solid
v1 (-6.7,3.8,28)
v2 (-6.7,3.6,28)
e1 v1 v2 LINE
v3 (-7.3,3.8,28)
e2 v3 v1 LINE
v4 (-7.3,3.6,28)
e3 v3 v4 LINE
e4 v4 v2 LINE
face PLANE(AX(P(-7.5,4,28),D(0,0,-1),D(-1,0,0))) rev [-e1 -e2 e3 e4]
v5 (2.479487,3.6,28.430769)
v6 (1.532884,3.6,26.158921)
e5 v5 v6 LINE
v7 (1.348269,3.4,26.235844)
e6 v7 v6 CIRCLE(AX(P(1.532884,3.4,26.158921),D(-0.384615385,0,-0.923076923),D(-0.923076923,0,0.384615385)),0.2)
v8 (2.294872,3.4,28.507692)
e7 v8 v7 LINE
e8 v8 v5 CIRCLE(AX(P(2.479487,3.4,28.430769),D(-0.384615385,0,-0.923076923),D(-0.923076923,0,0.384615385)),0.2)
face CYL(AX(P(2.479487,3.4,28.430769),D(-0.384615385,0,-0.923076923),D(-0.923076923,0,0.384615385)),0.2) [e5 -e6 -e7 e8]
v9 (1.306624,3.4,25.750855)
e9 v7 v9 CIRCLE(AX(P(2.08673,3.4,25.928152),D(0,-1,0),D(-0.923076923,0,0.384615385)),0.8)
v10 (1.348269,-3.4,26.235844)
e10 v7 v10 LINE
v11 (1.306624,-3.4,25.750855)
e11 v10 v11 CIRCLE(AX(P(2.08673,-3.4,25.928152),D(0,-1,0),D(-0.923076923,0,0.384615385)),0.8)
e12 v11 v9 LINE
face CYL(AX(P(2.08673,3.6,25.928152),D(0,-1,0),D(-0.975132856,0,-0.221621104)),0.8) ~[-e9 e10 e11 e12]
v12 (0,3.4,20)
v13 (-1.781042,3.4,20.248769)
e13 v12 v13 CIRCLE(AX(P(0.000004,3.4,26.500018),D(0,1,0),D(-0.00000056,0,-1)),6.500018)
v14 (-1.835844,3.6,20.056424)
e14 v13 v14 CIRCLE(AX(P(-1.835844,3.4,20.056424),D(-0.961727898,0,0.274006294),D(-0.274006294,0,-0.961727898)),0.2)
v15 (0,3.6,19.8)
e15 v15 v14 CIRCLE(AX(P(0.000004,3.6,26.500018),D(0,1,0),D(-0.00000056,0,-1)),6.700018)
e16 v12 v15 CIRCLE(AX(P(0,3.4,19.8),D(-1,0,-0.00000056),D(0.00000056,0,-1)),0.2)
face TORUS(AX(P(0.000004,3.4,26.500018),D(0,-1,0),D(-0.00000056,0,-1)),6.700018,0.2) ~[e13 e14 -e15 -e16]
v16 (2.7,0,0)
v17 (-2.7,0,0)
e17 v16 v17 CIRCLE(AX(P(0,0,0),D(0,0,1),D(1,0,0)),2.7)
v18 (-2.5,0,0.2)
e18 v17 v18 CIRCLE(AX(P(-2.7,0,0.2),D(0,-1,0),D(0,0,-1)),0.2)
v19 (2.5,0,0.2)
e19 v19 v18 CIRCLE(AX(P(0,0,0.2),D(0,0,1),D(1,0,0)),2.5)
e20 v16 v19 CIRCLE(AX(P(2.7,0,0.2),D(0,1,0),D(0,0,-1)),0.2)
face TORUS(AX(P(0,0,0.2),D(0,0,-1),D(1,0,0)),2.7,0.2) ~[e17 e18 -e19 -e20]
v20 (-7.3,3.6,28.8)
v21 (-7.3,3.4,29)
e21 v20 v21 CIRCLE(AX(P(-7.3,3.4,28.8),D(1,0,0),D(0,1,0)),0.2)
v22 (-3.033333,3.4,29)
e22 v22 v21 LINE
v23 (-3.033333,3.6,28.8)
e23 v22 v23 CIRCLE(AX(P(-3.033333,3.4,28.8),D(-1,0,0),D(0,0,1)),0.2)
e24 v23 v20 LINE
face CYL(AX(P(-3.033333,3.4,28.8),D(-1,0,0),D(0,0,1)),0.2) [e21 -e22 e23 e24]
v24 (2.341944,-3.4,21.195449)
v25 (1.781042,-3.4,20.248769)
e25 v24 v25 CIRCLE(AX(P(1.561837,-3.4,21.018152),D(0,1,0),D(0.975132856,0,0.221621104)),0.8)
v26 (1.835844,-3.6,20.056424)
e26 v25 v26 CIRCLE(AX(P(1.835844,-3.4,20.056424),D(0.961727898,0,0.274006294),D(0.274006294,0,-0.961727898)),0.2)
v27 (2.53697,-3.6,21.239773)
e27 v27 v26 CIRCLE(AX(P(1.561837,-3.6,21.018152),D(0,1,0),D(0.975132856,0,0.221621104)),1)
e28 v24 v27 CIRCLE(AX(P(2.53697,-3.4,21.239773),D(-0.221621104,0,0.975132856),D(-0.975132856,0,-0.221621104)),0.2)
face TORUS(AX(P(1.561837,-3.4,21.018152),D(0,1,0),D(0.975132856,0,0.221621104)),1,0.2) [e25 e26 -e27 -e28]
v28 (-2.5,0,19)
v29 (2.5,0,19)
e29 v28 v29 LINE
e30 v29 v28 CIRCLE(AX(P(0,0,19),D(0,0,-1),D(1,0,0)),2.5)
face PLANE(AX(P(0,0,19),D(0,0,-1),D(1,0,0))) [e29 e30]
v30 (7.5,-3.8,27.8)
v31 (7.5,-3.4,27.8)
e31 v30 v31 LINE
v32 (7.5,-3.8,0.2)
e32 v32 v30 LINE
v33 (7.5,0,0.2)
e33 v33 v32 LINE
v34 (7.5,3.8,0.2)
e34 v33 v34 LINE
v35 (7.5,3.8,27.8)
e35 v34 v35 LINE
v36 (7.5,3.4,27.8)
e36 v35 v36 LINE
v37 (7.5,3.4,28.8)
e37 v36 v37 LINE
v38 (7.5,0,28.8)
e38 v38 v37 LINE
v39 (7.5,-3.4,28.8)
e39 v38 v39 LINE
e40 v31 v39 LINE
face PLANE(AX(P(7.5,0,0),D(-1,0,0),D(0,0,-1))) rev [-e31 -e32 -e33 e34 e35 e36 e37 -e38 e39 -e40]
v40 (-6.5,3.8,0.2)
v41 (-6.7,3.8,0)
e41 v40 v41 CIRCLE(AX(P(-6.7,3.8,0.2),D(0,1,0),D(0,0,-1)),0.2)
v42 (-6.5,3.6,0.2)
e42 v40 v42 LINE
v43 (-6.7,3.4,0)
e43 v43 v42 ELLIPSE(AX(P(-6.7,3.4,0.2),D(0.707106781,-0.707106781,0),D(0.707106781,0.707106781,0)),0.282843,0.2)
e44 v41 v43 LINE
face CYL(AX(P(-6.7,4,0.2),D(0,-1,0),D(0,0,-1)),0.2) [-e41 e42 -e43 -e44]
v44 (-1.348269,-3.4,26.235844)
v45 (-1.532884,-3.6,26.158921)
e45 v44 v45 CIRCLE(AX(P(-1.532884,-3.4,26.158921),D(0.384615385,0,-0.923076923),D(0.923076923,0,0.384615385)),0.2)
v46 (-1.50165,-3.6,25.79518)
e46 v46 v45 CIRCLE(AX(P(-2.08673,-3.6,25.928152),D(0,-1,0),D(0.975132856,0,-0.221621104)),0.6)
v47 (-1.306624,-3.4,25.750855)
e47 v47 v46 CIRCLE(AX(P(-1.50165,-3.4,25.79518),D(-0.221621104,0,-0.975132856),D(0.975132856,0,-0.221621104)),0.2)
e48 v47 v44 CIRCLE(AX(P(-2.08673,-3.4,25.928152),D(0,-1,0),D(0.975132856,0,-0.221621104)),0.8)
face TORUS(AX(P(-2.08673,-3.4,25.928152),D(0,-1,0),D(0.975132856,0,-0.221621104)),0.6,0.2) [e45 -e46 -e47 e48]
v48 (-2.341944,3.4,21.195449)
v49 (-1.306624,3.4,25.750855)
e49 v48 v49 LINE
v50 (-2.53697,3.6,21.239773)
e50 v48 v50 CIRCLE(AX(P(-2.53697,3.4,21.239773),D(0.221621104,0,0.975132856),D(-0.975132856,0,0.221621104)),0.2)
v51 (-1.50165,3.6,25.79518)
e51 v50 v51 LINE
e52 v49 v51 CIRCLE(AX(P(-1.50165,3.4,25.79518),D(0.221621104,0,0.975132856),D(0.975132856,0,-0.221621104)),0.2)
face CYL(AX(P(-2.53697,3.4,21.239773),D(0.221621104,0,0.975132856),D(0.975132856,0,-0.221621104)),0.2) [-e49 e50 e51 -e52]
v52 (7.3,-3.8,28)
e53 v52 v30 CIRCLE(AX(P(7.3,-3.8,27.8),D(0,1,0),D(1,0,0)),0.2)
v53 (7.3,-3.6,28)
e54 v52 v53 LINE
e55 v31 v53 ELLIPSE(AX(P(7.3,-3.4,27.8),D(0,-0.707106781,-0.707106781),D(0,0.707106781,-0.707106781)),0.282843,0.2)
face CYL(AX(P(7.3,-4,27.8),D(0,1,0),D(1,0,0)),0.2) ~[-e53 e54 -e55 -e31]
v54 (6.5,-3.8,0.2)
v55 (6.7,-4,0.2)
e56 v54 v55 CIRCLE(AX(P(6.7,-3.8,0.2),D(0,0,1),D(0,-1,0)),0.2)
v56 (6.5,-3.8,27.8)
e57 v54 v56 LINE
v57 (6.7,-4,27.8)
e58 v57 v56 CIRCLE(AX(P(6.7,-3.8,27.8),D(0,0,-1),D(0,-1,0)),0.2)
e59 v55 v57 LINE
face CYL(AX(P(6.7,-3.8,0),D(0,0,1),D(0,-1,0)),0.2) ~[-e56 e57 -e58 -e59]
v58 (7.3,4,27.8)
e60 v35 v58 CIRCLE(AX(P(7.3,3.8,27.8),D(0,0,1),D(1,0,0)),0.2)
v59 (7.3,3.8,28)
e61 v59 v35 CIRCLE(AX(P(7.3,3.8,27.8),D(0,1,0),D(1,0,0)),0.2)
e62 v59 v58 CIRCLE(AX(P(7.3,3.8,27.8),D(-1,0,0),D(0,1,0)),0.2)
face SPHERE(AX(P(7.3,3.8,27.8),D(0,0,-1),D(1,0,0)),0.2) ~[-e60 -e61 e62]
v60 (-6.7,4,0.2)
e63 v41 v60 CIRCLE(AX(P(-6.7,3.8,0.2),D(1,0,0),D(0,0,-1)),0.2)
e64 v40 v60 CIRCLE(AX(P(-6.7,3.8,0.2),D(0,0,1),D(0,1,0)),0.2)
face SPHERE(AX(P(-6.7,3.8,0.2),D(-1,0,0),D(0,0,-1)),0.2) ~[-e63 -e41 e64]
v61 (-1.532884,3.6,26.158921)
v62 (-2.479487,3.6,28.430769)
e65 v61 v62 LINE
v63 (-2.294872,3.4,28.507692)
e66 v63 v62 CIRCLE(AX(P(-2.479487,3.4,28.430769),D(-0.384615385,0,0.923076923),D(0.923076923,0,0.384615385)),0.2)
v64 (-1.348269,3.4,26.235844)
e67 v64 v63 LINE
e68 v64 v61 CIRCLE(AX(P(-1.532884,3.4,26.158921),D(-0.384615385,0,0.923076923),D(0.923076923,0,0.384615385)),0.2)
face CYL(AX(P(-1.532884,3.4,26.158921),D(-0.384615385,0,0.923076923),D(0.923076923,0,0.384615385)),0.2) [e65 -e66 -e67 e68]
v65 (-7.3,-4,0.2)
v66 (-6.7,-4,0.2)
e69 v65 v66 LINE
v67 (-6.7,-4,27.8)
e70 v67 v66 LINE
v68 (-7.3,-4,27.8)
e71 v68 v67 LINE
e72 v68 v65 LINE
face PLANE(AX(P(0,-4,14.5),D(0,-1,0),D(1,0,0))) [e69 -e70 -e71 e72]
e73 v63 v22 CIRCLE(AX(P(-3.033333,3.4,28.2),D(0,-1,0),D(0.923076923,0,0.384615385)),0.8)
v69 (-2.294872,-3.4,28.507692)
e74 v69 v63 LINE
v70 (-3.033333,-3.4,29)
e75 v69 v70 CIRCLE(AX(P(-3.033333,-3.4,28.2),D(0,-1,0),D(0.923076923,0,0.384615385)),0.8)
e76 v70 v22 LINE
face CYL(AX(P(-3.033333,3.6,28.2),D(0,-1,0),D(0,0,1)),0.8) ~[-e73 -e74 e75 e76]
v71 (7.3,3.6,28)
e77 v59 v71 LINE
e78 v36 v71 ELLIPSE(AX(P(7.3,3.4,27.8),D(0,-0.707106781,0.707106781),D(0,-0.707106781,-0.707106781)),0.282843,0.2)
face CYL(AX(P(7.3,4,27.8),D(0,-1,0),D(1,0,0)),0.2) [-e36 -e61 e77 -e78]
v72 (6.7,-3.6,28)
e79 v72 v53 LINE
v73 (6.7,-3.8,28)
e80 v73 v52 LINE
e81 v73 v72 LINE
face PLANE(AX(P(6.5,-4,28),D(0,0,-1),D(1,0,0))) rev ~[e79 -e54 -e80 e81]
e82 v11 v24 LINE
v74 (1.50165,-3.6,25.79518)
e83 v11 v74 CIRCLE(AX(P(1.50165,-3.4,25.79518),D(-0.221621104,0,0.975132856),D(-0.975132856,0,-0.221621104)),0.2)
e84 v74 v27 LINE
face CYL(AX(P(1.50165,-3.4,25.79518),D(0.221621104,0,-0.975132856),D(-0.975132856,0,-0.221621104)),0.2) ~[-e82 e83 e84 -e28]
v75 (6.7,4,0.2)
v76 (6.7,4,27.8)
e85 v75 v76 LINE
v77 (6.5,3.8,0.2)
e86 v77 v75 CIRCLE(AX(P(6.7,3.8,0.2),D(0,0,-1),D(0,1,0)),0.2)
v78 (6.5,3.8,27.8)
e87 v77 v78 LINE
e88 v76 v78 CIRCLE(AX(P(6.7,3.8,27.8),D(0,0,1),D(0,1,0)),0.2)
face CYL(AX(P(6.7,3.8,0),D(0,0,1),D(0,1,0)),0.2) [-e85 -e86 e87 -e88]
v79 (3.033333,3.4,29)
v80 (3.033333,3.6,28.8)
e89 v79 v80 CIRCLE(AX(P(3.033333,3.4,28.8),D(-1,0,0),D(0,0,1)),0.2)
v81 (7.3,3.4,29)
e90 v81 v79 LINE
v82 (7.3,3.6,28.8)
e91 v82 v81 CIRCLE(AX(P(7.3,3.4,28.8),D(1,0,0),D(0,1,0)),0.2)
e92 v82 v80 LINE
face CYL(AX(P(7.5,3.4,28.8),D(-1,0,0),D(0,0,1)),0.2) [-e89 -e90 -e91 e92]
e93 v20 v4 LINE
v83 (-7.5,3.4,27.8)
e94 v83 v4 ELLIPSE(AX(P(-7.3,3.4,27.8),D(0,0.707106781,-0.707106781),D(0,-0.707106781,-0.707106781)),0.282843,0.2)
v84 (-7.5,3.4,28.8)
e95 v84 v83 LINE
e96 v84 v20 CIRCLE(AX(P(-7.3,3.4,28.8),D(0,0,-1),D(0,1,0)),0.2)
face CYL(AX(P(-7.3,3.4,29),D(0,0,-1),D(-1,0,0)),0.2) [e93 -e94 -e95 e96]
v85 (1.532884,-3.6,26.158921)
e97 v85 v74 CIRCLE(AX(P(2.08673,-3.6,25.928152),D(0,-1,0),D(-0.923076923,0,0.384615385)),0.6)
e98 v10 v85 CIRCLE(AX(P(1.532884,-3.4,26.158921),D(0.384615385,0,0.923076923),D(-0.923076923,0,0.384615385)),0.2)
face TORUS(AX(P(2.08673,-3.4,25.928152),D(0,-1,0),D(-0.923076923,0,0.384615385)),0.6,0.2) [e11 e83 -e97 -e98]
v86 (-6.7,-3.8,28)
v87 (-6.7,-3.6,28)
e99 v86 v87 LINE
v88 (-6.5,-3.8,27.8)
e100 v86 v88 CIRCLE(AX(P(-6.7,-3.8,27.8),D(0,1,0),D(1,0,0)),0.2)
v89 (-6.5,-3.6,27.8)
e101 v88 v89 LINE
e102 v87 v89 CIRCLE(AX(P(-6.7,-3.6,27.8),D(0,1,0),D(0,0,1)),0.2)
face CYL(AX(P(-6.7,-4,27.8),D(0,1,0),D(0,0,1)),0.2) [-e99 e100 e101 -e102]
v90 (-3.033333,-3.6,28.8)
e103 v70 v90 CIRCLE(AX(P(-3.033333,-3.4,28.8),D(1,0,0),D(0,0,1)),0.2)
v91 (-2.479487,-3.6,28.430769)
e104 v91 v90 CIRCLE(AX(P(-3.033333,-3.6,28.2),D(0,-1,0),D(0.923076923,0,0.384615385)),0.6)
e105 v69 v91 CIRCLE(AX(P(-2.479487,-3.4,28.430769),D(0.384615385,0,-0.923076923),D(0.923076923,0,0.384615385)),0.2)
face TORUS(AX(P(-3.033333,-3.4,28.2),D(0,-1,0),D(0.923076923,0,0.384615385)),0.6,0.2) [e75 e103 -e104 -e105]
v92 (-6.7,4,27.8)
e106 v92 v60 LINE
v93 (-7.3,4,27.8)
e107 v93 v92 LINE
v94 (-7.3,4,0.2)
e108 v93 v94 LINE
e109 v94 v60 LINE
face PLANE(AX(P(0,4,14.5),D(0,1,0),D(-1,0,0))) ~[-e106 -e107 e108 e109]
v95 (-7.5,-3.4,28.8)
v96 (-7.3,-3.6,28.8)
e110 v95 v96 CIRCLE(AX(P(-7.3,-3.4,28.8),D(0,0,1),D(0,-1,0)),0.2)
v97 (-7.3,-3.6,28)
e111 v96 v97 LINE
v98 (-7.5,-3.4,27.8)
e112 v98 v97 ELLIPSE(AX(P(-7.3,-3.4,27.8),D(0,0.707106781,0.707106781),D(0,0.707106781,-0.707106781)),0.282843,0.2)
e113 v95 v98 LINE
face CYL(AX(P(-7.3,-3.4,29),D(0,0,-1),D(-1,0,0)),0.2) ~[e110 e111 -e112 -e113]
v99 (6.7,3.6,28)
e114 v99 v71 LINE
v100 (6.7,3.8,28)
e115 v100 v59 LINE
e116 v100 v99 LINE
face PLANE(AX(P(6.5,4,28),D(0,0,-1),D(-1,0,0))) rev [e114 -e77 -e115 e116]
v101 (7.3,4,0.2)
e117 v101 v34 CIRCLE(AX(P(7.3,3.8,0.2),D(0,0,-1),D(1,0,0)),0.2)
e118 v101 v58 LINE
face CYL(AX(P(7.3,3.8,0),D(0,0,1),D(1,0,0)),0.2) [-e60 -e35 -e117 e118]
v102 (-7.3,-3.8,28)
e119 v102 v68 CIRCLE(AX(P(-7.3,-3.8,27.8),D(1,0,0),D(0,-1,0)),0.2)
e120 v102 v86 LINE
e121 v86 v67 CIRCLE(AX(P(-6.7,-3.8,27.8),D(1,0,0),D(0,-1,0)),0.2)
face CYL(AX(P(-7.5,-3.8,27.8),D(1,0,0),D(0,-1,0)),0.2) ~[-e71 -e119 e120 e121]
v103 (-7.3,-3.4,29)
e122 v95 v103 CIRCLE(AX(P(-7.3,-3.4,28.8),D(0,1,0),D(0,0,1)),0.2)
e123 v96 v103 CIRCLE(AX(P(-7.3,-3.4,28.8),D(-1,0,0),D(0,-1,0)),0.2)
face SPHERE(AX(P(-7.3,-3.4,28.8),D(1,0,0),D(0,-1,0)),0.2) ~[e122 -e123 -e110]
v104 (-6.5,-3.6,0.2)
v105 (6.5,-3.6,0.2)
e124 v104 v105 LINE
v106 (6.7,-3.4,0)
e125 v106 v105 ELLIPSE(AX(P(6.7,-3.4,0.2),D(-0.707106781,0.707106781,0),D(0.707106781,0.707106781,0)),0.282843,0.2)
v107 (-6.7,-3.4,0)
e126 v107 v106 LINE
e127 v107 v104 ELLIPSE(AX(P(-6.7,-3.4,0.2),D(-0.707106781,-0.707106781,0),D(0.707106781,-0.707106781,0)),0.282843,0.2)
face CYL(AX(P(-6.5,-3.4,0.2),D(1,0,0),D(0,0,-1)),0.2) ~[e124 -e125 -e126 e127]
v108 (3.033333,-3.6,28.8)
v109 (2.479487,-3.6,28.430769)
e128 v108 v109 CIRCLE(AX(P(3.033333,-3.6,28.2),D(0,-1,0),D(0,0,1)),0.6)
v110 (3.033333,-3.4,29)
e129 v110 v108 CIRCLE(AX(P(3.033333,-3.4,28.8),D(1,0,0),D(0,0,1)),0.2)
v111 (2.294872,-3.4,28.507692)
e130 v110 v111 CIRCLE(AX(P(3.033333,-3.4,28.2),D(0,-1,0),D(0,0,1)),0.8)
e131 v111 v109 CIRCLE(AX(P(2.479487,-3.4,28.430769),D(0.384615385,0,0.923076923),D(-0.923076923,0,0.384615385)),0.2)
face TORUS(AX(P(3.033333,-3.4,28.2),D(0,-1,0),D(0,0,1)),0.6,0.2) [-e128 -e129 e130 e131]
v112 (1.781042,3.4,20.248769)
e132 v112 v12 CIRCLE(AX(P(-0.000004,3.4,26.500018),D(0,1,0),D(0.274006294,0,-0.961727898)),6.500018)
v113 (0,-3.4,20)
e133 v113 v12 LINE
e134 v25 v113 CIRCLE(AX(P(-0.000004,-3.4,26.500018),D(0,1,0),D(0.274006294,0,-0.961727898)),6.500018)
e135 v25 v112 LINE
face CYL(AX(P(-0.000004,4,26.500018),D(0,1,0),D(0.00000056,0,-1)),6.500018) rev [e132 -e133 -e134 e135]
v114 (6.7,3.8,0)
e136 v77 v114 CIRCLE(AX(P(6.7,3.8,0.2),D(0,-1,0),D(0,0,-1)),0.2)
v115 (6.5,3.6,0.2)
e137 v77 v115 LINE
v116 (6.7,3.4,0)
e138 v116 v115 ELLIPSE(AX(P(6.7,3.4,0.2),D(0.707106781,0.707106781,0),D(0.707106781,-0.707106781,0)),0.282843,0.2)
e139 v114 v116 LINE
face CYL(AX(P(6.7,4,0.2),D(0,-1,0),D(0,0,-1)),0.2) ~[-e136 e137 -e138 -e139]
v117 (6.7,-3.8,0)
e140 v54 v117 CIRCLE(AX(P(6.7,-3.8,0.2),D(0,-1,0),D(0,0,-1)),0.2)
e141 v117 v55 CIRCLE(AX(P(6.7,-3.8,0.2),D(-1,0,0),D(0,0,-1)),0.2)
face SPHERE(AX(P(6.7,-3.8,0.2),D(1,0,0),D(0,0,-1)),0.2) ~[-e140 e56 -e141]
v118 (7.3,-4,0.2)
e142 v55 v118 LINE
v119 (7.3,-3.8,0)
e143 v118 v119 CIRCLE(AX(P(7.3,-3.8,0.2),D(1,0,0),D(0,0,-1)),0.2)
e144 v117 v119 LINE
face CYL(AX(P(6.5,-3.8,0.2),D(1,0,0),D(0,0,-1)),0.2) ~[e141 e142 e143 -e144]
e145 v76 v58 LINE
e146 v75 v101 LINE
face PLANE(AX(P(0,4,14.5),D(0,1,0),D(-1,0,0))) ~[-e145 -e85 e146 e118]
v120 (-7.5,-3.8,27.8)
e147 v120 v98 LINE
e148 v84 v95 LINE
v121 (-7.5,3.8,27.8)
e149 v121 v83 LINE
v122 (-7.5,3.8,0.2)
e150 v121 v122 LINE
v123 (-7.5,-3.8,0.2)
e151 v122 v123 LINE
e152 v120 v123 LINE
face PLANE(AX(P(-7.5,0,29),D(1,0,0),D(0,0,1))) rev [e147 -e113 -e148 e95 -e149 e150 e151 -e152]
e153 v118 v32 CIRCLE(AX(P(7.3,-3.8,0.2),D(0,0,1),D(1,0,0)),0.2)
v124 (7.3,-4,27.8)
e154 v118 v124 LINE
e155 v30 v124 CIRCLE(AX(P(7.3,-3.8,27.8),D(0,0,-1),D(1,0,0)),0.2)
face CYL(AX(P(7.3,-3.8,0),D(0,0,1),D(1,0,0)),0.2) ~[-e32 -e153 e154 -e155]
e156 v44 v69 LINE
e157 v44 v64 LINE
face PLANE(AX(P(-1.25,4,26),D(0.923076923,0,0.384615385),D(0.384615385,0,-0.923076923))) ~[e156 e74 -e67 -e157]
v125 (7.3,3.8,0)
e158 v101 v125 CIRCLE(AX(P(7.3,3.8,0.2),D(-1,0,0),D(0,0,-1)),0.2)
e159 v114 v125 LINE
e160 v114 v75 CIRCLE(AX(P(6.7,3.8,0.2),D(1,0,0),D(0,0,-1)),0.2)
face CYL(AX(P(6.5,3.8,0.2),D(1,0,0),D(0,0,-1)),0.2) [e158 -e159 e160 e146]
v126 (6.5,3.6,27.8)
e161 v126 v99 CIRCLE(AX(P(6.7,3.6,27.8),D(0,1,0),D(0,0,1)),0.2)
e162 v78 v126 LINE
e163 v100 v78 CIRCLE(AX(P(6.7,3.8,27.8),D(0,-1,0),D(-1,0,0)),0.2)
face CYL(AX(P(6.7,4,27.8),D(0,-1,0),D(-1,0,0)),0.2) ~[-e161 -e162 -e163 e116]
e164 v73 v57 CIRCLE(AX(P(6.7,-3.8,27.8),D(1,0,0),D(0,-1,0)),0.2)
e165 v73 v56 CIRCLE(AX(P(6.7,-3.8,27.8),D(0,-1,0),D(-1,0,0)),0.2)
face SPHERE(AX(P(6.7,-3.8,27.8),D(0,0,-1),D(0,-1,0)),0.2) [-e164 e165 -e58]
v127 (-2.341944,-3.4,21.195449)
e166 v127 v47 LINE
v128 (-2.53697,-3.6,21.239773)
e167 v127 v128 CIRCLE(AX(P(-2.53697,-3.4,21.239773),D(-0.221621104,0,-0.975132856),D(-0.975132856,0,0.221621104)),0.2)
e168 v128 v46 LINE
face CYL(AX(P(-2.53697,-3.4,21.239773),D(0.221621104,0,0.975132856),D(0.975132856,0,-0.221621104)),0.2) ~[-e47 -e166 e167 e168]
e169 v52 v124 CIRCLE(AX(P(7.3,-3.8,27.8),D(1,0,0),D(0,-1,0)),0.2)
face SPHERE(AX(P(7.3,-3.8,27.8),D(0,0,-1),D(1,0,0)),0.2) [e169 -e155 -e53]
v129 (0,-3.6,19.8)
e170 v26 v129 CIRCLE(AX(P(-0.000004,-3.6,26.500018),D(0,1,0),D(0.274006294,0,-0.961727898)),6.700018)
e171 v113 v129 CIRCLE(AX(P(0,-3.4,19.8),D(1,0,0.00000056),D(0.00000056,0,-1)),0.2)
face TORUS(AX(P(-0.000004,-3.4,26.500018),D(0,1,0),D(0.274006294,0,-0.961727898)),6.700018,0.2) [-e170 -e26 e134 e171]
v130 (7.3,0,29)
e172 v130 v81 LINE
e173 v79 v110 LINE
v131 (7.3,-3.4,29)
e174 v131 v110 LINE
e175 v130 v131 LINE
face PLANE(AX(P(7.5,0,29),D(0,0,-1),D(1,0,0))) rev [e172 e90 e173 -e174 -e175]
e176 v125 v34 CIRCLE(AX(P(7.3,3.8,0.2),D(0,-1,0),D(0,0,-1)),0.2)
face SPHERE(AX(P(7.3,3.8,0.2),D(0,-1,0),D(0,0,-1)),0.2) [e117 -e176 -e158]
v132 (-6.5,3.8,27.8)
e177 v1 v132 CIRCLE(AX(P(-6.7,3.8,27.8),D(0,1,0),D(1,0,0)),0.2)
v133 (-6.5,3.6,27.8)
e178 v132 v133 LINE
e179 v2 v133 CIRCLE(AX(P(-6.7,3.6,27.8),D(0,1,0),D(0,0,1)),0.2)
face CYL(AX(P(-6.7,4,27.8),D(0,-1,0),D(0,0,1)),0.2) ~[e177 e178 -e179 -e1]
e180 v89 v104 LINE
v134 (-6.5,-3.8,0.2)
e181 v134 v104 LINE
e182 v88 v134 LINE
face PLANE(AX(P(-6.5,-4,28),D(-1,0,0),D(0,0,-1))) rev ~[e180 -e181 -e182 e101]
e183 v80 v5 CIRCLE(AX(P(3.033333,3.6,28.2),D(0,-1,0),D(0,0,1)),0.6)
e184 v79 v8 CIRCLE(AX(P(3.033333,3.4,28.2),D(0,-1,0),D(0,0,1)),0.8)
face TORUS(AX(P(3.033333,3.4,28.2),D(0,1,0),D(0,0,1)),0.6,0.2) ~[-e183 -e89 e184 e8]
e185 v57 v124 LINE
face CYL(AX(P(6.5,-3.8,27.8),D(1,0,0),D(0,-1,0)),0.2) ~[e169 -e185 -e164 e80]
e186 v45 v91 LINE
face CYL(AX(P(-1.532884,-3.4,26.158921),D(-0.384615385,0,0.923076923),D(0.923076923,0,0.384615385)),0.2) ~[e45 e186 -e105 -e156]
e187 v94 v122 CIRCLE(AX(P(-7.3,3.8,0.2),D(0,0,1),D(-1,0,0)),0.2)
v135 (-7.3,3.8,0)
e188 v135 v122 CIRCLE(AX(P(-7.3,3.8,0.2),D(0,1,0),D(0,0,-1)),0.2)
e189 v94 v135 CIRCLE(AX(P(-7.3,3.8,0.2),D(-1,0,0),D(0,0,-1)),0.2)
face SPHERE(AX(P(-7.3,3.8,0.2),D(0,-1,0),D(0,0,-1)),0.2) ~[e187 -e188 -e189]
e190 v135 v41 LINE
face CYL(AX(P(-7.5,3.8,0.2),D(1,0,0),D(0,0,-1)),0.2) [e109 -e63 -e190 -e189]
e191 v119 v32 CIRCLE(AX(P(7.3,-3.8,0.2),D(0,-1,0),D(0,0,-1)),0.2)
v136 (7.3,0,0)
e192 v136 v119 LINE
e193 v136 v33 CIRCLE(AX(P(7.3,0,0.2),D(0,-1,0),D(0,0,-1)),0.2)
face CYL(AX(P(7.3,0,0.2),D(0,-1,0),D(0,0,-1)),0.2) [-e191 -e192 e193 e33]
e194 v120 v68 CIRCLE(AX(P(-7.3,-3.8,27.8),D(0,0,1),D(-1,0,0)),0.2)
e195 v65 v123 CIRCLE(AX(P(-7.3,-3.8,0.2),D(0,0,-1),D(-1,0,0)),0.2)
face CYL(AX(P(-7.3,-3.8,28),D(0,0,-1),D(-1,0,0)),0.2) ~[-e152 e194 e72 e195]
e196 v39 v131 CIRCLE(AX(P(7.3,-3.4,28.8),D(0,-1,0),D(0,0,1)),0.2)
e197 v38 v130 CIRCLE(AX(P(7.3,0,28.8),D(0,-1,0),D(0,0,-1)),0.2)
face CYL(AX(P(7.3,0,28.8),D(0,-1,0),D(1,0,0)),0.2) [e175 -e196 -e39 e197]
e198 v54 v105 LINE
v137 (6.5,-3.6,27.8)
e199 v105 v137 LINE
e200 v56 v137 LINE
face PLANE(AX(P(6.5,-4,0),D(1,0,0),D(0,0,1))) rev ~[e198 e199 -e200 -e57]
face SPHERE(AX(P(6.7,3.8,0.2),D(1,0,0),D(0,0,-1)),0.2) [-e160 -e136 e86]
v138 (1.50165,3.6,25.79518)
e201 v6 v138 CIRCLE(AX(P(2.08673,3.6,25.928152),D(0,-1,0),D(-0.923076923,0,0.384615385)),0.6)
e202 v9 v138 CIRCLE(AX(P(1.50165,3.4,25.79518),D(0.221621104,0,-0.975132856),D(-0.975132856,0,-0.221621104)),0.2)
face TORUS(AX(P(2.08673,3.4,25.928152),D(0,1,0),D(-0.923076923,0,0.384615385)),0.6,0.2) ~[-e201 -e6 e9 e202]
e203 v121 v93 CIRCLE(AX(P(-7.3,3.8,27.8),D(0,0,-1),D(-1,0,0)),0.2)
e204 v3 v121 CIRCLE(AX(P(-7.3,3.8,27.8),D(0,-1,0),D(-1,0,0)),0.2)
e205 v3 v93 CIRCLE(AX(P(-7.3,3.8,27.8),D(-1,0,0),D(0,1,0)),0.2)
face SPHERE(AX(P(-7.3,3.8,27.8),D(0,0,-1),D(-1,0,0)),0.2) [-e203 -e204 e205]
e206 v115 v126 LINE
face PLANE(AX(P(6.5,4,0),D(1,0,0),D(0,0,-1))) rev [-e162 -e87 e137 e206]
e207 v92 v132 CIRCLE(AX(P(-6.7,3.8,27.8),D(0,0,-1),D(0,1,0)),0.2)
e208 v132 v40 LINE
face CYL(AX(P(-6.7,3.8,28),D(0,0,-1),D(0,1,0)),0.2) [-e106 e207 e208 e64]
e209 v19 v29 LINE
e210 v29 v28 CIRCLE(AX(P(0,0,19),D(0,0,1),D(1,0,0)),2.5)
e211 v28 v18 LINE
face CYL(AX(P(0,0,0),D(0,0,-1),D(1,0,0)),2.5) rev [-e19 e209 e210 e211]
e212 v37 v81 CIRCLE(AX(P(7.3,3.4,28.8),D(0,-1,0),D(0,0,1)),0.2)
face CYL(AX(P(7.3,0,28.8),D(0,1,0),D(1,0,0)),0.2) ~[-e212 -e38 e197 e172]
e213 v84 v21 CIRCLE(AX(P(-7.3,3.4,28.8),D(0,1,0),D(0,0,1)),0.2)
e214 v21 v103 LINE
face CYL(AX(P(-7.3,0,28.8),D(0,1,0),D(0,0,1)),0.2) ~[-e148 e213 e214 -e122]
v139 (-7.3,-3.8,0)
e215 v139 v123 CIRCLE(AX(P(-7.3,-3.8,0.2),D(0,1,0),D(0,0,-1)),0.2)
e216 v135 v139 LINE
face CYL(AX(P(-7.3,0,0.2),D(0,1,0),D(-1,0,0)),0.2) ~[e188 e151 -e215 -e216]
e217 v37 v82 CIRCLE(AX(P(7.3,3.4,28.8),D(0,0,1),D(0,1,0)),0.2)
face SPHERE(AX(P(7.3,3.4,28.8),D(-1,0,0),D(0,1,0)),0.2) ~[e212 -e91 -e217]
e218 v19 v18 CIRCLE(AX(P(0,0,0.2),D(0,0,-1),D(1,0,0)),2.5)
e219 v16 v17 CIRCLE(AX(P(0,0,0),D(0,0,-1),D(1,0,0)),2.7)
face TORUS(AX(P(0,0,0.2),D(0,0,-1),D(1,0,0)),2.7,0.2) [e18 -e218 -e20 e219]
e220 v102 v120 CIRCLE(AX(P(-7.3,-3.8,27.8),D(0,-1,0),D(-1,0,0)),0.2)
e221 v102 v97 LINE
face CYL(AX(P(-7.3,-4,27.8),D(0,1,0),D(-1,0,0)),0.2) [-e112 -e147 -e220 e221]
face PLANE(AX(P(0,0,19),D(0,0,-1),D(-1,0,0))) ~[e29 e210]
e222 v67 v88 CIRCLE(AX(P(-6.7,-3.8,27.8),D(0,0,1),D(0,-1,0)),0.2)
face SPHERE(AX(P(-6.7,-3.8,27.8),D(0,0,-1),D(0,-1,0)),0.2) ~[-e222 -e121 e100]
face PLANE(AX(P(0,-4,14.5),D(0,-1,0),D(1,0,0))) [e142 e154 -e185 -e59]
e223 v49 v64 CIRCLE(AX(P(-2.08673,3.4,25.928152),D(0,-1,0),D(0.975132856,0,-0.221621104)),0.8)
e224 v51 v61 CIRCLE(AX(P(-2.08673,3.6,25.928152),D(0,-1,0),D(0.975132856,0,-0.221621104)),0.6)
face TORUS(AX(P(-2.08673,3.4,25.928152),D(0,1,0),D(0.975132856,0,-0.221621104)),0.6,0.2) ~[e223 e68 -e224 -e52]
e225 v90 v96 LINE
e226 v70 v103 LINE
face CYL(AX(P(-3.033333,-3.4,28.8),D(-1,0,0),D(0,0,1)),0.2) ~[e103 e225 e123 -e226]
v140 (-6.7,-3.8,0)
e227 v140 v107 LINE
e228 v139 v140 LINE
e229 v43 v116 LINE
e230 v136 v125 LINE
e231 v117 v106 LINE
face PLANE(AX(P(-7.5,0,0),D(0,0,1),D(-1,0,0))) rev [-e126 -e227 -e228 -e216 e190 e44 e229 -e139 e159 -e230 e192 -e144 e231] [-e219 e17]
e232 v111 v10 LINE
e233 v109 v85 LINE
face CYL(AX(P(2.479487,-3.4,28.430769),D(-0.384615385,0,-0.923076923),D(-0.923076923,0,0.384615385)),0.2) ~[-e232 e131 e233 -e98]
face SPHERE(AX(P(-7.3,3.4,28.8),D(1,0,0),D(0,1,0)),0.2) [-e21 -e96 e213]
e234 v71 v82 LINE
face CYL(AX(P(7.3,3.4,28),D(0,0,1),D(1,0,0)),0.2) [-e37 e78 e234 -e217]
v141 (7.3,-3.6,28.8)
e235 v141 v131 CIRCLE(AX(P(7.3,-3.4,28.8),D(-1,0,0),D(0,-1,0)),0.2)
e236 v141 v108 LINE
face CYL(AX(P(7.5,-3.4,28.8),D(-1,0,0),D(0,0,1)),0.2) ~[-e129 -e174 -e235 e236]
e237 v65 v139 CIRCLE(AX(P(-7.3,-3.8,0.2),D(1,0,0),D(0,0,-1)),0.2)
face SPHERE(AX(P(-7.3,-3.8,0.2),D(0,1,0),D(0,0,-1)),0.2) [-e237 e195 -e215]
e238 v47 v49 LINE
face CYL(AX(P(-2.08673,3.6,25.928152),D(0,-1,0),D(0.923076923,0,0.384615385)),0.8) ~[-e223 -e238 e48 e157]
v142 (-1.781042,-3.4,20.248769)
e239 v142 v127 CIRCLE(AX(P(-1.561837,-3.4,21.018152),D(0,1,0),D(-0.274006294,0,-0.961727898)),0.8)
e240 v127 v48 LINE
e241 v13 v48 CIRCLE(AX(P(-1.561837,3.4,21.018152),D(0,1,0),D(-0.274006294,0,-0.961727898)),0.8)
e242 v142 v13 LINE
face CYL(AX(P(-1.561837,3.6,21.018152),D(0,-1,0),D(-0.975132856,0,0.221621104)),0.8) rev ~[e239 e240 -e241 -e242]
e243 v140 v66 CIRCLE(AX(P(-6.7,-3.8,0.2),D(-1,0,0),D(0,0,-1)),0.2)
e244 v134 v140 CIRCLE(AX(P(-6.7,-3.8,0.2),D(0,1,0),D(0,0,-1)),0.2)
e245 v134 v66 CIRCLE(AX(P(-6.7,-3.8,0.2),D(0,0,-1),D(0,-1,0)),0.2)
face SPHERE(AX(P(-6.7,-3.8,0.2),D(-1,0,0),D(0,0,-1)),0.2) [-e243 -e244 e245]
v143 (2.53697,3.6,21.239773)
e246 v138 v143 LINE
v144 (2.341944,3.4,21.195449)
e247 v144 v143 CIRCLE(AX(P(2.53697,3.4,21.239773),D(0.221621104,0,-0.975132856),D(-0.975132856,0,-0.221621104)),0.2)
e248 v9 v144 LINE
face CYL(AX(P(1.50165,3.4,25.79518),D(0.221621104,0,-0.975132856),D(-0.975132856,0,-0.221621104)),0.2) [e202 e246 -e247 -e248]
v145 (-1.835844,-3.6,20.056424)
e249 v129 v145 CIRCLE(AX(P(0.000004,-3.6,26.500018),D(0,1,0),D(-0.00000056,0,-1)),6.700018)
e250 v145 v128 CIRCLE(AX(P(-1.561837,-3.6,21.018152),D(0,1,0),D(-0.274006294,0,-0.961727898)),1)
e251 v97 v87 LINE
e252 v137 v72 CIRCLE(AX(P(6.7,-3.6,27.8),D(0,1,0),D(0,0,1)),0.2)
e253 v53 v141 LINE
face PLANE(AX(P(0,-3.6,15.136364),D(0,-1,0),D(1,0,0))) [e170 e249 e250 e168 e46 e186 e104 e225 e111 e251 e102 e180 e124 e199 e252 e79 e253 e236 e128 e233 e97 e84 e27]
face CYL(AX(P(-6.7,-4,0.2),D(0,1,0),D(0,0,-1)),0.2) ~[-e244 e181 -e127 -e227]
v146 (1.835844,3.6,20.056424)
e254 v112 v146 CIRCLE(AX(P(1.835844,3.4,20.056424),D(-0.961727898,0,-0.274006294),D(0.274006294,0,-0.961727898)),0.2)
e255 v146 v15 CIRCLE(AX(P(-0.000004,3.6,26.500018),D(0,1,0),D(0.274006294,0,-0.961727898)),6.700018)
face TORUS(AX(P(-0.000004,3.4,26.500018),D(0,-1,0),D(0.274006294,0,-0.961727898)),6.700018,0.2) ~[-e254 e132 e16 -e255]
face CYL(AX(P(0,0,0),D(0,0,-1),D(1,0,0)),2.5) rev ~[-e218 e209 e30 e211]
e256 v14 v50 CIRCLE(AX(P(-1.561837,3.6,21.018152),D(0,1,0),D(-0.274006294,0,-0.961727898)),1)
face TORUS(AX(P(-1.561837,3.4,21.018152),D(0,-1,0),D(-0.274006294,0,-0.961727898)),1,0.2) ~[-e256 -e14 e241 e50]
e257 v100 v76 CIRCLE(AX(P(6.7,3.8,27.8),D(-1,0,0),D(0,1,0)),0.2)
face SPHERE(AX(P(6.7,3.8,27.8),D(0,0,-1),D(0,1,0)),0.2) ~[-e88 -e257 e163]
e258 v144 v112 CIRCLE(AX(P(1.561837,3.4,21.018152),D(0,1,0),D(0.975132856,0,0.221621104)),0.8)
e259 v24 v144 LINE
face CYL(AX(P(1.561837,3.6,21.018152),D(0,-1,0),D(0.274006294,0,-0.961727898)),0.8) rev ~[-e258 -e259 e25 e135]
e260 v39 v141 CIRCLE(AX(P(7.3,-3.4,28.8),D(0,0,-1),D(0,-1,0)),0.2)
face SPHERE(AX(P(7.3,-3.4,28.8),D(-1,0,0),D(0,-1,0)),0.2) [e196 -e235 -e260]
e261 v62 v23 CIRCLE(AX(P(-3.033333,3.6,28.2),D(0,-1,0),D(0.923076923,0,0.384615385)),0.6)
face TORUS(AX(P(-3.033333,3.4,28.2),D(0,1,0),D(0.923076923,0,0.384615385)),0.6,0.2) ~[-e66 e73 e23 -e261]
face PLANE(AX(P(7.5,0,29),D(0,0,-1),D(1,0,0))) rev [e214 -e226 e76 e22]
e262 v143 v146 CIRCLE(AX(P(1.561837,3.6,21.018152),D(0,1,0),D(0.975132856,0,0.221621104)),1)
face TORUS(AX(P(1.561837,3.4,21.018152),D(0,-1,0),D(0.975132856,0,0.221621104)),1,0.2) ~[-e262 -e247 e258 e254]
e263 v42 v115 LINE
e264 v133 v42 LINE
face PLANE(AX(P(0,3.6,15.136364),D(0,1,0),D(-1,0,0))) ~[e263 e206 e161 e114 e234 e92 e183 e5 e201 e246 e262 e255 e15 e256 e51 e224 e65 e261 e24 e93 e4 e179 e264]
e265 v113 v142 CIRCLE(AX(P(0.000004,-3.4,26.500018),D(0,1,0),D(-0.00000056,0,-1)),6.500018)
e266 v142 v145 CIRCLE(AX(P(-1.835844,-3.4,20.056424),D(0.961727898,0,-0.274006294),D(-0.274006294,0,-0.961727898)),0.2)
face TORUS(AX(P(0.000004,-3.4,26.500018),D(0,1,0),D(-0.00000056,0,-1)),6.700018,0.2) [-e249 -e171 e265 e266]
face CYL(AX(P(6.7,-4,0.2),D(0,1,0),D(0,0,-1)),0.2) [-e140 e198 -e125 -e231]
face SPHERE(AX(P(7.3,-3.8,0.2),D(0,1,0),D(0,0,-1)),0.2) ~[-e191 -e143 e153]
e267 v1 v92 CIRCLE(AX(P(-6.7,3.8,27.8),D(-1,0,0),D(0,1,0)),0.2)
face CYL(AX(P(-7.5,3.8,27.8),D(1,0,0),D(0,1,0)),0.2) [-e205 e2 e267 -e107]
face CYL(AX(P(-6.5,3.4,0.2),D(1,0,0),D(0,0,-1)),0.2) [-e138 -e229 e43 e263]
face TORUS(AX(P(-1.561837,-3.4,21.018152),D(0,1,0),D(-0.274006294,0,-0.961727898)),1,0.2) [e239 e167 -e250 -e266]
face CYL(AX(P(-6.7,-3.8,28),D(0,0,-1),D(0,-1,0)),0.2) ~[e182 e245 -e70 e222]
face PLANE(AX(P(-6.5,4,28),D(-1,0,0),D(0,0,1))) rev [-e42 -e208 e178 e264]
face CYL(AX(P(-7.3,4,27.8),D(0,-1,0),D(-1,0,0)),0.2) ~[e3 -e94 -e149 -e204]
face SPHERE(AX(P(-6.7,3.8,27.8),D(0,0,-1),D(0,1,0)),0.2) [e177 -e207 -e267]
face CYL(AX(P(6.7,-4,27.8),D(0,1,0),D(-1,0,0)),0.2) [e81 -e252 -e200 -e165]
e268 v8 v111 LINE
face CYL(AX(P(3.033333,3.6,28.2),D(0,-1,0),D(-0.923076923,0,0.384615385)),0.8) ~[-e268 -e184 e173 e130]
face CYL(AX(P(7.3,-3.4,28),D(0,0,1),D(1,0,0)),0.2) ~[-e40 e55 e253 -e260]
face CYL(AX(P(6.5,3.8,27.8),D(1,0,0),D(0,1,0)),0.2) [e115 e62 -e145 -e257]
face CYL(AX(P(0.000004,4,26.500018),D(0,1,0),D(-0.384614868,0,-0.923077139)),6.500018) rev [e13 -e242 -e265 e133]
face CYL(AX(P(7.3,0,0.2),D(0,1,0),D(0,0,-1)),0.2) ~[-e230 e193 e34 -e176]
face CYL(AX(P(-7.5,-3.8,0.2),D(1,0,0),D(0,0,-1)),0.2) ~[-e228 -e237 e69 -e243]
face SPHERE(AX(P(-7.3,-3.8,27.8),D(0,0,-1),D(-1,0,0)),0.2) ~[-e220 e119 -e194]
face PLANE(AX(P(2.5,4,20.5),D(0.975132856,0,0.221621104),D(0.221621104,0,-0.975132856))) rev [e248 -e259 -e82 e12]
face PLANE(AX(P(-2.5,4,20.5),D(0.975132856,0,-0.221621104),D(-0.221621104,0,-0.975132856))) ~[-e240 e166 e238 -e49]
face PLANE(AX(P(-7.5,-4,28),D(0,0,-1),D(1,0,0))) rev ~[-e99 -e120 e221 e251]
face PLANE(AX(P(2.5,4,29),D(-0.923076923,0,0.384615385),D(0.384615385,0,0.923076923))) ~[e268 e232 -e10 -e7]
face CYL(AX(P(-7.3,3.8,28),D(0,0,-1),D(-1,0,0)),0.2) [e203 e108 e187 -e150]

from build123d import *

# Parameters (mm, degrees)
PAD_DEPTH       = 4
SKETCH001_R     = 2.5
POCKET_DEPTH    = 19
POCKET001_DEPTH = 15
POCKET002_DEPTH = 0.4
FILLET_R        = 0.8
FILLET001_R     = 0.2


with BuildPart() as part:
    # Sketch → Pad (new body)
    with BuildSketch(Plane.XZ):
        Polygon((-7.5, 29), (-7.5, 0), (0, 0), (7.5, 0), (7.5, 29), (0, 29), align=None)
    extrude(amount=PAD_DEPTH)

    # Sketch001 (on Face5 of Pad) → Pocket (cut)
    with BuildSketch(Plane(origin=(0, 0, 0), x_dir=(1, 0, 0), z_dir=(0, 0, -1))):
        Circle(SKETCH001_R)
    extrude(amount=-POCKET_DEPTH, mode=Mode.SUBTRACT)

    # Sketch002 (on Face5 of Pocket) → Pocket001 (cut)
    with BuildSketch(Plane.XZ.offset(4)):
        with BuildLine():
            Line((-2.5, 20.5), (-1.25, 26))
            Line((-1.25, 26), (-2.5, 29))
            Line((-2.5, 29), (2.5, 29))
            Line((2.5, 29), (1.25, 26))
            Line((2.5, 20.5), (1.25, 26))
            ThreePointArc((0, 20), (1.274755, 20.126226), (2.5, 20.5))
            ThreePointArc((-2.5, 20.5), (-1.274755, 20.126226), (0, 20))
        make_face()
    extrude(amount=-POCKET001_DEPTH, mode=Mode.SUBTRACT)

    # Sketch005 (on Face5 of Pocket001) → Pocket002 (cut)
    with BuildSketch(Plane.XZ.offset(4)):
        Polygon((-6.5, 28), (-6.5, 0), (0, 0), (6.5, 0), (6.5, 28), (7.5, 28), (7.5, 29), (6.5, 29), (-6.5, 29), (-7.5, 29), (-7.5, 28), align=None)
    extrude(amount=-POCKET002_DEPTH, mode=Mode.SUBTRACT)

    # Fillet
    fillet_edges = [part.edges().sort_by_distance(p)[0] for p in [
        (-2.5, -1.8, 20.5),
        (2.5, -1.8, 20.5),
        (1.25, -1.8, 26),
        (2.5, -1.8, 29),
        (-1.25, -1.8, 26),
        (-2.5, -1.8, 29),
    ]]
    fillet(fillet_edges, radius=FILLET_R)

    # Fillet001
    fillet001_edges = [part.edges().sort_by_distance(p)[0] for p in [
        (0, -3.6, 0),
        (0, -2.5, 0),
        (-7.5, -2, 0),
        (-7, -4, 0),
        (7.5, -2, 0),
        (7, -4, 0),
        (6.5, -3.8, 0),
        (-6.5, -3.8, 0),
        (-6.5, -4, 14),
        (-7.5, -4, 14),
        (6.5, -4, 14),
        (7.5, -4, 14),
        (-7.5, -3.8, 28),
        (-7, -4, 28),
        (-6.5, -3.8, 28),
        (-5.266667, -3.6, 29),
        (-7.5, -3.6, 28.5),
        (0, -3.6, 20),
        (2.2501, -3.6, 20.61036),
        (1.824284, -3.6, 23.473152),
        (-2.2501, -3.6, 20.61036),
        (-1.824284, -3.6, 23.473152),
        (-1.82157, -3.6, 27.371768),
        (-2.589573, -3.6, 28.86564),
        (-1.289663, -3.6, 25.996594),
        (1.289663, -3.6, 25.996594),
        (1.82157, -3.6, 27.371768),
        (2.589573, -3.6, 28.86564),
        (5.266667, -3.6, 29),
        (7.5, -3.8, 28),
        (7.5, -3.6, 28.5),
        (7, -4, 28),
        (6.5, -3.8, 28),
        (-7.5, -1.8, 29),
        (7.5, -1.8, 29),
    ]]
    fillet(fillet001_edges, radius=FILLET001_R)

    # Mirrored: part across XZ


with BuildPart() as part_1:
    add(part.part)
    add(part.part.mirror(Plane.XZ))


solid = part_1.part
